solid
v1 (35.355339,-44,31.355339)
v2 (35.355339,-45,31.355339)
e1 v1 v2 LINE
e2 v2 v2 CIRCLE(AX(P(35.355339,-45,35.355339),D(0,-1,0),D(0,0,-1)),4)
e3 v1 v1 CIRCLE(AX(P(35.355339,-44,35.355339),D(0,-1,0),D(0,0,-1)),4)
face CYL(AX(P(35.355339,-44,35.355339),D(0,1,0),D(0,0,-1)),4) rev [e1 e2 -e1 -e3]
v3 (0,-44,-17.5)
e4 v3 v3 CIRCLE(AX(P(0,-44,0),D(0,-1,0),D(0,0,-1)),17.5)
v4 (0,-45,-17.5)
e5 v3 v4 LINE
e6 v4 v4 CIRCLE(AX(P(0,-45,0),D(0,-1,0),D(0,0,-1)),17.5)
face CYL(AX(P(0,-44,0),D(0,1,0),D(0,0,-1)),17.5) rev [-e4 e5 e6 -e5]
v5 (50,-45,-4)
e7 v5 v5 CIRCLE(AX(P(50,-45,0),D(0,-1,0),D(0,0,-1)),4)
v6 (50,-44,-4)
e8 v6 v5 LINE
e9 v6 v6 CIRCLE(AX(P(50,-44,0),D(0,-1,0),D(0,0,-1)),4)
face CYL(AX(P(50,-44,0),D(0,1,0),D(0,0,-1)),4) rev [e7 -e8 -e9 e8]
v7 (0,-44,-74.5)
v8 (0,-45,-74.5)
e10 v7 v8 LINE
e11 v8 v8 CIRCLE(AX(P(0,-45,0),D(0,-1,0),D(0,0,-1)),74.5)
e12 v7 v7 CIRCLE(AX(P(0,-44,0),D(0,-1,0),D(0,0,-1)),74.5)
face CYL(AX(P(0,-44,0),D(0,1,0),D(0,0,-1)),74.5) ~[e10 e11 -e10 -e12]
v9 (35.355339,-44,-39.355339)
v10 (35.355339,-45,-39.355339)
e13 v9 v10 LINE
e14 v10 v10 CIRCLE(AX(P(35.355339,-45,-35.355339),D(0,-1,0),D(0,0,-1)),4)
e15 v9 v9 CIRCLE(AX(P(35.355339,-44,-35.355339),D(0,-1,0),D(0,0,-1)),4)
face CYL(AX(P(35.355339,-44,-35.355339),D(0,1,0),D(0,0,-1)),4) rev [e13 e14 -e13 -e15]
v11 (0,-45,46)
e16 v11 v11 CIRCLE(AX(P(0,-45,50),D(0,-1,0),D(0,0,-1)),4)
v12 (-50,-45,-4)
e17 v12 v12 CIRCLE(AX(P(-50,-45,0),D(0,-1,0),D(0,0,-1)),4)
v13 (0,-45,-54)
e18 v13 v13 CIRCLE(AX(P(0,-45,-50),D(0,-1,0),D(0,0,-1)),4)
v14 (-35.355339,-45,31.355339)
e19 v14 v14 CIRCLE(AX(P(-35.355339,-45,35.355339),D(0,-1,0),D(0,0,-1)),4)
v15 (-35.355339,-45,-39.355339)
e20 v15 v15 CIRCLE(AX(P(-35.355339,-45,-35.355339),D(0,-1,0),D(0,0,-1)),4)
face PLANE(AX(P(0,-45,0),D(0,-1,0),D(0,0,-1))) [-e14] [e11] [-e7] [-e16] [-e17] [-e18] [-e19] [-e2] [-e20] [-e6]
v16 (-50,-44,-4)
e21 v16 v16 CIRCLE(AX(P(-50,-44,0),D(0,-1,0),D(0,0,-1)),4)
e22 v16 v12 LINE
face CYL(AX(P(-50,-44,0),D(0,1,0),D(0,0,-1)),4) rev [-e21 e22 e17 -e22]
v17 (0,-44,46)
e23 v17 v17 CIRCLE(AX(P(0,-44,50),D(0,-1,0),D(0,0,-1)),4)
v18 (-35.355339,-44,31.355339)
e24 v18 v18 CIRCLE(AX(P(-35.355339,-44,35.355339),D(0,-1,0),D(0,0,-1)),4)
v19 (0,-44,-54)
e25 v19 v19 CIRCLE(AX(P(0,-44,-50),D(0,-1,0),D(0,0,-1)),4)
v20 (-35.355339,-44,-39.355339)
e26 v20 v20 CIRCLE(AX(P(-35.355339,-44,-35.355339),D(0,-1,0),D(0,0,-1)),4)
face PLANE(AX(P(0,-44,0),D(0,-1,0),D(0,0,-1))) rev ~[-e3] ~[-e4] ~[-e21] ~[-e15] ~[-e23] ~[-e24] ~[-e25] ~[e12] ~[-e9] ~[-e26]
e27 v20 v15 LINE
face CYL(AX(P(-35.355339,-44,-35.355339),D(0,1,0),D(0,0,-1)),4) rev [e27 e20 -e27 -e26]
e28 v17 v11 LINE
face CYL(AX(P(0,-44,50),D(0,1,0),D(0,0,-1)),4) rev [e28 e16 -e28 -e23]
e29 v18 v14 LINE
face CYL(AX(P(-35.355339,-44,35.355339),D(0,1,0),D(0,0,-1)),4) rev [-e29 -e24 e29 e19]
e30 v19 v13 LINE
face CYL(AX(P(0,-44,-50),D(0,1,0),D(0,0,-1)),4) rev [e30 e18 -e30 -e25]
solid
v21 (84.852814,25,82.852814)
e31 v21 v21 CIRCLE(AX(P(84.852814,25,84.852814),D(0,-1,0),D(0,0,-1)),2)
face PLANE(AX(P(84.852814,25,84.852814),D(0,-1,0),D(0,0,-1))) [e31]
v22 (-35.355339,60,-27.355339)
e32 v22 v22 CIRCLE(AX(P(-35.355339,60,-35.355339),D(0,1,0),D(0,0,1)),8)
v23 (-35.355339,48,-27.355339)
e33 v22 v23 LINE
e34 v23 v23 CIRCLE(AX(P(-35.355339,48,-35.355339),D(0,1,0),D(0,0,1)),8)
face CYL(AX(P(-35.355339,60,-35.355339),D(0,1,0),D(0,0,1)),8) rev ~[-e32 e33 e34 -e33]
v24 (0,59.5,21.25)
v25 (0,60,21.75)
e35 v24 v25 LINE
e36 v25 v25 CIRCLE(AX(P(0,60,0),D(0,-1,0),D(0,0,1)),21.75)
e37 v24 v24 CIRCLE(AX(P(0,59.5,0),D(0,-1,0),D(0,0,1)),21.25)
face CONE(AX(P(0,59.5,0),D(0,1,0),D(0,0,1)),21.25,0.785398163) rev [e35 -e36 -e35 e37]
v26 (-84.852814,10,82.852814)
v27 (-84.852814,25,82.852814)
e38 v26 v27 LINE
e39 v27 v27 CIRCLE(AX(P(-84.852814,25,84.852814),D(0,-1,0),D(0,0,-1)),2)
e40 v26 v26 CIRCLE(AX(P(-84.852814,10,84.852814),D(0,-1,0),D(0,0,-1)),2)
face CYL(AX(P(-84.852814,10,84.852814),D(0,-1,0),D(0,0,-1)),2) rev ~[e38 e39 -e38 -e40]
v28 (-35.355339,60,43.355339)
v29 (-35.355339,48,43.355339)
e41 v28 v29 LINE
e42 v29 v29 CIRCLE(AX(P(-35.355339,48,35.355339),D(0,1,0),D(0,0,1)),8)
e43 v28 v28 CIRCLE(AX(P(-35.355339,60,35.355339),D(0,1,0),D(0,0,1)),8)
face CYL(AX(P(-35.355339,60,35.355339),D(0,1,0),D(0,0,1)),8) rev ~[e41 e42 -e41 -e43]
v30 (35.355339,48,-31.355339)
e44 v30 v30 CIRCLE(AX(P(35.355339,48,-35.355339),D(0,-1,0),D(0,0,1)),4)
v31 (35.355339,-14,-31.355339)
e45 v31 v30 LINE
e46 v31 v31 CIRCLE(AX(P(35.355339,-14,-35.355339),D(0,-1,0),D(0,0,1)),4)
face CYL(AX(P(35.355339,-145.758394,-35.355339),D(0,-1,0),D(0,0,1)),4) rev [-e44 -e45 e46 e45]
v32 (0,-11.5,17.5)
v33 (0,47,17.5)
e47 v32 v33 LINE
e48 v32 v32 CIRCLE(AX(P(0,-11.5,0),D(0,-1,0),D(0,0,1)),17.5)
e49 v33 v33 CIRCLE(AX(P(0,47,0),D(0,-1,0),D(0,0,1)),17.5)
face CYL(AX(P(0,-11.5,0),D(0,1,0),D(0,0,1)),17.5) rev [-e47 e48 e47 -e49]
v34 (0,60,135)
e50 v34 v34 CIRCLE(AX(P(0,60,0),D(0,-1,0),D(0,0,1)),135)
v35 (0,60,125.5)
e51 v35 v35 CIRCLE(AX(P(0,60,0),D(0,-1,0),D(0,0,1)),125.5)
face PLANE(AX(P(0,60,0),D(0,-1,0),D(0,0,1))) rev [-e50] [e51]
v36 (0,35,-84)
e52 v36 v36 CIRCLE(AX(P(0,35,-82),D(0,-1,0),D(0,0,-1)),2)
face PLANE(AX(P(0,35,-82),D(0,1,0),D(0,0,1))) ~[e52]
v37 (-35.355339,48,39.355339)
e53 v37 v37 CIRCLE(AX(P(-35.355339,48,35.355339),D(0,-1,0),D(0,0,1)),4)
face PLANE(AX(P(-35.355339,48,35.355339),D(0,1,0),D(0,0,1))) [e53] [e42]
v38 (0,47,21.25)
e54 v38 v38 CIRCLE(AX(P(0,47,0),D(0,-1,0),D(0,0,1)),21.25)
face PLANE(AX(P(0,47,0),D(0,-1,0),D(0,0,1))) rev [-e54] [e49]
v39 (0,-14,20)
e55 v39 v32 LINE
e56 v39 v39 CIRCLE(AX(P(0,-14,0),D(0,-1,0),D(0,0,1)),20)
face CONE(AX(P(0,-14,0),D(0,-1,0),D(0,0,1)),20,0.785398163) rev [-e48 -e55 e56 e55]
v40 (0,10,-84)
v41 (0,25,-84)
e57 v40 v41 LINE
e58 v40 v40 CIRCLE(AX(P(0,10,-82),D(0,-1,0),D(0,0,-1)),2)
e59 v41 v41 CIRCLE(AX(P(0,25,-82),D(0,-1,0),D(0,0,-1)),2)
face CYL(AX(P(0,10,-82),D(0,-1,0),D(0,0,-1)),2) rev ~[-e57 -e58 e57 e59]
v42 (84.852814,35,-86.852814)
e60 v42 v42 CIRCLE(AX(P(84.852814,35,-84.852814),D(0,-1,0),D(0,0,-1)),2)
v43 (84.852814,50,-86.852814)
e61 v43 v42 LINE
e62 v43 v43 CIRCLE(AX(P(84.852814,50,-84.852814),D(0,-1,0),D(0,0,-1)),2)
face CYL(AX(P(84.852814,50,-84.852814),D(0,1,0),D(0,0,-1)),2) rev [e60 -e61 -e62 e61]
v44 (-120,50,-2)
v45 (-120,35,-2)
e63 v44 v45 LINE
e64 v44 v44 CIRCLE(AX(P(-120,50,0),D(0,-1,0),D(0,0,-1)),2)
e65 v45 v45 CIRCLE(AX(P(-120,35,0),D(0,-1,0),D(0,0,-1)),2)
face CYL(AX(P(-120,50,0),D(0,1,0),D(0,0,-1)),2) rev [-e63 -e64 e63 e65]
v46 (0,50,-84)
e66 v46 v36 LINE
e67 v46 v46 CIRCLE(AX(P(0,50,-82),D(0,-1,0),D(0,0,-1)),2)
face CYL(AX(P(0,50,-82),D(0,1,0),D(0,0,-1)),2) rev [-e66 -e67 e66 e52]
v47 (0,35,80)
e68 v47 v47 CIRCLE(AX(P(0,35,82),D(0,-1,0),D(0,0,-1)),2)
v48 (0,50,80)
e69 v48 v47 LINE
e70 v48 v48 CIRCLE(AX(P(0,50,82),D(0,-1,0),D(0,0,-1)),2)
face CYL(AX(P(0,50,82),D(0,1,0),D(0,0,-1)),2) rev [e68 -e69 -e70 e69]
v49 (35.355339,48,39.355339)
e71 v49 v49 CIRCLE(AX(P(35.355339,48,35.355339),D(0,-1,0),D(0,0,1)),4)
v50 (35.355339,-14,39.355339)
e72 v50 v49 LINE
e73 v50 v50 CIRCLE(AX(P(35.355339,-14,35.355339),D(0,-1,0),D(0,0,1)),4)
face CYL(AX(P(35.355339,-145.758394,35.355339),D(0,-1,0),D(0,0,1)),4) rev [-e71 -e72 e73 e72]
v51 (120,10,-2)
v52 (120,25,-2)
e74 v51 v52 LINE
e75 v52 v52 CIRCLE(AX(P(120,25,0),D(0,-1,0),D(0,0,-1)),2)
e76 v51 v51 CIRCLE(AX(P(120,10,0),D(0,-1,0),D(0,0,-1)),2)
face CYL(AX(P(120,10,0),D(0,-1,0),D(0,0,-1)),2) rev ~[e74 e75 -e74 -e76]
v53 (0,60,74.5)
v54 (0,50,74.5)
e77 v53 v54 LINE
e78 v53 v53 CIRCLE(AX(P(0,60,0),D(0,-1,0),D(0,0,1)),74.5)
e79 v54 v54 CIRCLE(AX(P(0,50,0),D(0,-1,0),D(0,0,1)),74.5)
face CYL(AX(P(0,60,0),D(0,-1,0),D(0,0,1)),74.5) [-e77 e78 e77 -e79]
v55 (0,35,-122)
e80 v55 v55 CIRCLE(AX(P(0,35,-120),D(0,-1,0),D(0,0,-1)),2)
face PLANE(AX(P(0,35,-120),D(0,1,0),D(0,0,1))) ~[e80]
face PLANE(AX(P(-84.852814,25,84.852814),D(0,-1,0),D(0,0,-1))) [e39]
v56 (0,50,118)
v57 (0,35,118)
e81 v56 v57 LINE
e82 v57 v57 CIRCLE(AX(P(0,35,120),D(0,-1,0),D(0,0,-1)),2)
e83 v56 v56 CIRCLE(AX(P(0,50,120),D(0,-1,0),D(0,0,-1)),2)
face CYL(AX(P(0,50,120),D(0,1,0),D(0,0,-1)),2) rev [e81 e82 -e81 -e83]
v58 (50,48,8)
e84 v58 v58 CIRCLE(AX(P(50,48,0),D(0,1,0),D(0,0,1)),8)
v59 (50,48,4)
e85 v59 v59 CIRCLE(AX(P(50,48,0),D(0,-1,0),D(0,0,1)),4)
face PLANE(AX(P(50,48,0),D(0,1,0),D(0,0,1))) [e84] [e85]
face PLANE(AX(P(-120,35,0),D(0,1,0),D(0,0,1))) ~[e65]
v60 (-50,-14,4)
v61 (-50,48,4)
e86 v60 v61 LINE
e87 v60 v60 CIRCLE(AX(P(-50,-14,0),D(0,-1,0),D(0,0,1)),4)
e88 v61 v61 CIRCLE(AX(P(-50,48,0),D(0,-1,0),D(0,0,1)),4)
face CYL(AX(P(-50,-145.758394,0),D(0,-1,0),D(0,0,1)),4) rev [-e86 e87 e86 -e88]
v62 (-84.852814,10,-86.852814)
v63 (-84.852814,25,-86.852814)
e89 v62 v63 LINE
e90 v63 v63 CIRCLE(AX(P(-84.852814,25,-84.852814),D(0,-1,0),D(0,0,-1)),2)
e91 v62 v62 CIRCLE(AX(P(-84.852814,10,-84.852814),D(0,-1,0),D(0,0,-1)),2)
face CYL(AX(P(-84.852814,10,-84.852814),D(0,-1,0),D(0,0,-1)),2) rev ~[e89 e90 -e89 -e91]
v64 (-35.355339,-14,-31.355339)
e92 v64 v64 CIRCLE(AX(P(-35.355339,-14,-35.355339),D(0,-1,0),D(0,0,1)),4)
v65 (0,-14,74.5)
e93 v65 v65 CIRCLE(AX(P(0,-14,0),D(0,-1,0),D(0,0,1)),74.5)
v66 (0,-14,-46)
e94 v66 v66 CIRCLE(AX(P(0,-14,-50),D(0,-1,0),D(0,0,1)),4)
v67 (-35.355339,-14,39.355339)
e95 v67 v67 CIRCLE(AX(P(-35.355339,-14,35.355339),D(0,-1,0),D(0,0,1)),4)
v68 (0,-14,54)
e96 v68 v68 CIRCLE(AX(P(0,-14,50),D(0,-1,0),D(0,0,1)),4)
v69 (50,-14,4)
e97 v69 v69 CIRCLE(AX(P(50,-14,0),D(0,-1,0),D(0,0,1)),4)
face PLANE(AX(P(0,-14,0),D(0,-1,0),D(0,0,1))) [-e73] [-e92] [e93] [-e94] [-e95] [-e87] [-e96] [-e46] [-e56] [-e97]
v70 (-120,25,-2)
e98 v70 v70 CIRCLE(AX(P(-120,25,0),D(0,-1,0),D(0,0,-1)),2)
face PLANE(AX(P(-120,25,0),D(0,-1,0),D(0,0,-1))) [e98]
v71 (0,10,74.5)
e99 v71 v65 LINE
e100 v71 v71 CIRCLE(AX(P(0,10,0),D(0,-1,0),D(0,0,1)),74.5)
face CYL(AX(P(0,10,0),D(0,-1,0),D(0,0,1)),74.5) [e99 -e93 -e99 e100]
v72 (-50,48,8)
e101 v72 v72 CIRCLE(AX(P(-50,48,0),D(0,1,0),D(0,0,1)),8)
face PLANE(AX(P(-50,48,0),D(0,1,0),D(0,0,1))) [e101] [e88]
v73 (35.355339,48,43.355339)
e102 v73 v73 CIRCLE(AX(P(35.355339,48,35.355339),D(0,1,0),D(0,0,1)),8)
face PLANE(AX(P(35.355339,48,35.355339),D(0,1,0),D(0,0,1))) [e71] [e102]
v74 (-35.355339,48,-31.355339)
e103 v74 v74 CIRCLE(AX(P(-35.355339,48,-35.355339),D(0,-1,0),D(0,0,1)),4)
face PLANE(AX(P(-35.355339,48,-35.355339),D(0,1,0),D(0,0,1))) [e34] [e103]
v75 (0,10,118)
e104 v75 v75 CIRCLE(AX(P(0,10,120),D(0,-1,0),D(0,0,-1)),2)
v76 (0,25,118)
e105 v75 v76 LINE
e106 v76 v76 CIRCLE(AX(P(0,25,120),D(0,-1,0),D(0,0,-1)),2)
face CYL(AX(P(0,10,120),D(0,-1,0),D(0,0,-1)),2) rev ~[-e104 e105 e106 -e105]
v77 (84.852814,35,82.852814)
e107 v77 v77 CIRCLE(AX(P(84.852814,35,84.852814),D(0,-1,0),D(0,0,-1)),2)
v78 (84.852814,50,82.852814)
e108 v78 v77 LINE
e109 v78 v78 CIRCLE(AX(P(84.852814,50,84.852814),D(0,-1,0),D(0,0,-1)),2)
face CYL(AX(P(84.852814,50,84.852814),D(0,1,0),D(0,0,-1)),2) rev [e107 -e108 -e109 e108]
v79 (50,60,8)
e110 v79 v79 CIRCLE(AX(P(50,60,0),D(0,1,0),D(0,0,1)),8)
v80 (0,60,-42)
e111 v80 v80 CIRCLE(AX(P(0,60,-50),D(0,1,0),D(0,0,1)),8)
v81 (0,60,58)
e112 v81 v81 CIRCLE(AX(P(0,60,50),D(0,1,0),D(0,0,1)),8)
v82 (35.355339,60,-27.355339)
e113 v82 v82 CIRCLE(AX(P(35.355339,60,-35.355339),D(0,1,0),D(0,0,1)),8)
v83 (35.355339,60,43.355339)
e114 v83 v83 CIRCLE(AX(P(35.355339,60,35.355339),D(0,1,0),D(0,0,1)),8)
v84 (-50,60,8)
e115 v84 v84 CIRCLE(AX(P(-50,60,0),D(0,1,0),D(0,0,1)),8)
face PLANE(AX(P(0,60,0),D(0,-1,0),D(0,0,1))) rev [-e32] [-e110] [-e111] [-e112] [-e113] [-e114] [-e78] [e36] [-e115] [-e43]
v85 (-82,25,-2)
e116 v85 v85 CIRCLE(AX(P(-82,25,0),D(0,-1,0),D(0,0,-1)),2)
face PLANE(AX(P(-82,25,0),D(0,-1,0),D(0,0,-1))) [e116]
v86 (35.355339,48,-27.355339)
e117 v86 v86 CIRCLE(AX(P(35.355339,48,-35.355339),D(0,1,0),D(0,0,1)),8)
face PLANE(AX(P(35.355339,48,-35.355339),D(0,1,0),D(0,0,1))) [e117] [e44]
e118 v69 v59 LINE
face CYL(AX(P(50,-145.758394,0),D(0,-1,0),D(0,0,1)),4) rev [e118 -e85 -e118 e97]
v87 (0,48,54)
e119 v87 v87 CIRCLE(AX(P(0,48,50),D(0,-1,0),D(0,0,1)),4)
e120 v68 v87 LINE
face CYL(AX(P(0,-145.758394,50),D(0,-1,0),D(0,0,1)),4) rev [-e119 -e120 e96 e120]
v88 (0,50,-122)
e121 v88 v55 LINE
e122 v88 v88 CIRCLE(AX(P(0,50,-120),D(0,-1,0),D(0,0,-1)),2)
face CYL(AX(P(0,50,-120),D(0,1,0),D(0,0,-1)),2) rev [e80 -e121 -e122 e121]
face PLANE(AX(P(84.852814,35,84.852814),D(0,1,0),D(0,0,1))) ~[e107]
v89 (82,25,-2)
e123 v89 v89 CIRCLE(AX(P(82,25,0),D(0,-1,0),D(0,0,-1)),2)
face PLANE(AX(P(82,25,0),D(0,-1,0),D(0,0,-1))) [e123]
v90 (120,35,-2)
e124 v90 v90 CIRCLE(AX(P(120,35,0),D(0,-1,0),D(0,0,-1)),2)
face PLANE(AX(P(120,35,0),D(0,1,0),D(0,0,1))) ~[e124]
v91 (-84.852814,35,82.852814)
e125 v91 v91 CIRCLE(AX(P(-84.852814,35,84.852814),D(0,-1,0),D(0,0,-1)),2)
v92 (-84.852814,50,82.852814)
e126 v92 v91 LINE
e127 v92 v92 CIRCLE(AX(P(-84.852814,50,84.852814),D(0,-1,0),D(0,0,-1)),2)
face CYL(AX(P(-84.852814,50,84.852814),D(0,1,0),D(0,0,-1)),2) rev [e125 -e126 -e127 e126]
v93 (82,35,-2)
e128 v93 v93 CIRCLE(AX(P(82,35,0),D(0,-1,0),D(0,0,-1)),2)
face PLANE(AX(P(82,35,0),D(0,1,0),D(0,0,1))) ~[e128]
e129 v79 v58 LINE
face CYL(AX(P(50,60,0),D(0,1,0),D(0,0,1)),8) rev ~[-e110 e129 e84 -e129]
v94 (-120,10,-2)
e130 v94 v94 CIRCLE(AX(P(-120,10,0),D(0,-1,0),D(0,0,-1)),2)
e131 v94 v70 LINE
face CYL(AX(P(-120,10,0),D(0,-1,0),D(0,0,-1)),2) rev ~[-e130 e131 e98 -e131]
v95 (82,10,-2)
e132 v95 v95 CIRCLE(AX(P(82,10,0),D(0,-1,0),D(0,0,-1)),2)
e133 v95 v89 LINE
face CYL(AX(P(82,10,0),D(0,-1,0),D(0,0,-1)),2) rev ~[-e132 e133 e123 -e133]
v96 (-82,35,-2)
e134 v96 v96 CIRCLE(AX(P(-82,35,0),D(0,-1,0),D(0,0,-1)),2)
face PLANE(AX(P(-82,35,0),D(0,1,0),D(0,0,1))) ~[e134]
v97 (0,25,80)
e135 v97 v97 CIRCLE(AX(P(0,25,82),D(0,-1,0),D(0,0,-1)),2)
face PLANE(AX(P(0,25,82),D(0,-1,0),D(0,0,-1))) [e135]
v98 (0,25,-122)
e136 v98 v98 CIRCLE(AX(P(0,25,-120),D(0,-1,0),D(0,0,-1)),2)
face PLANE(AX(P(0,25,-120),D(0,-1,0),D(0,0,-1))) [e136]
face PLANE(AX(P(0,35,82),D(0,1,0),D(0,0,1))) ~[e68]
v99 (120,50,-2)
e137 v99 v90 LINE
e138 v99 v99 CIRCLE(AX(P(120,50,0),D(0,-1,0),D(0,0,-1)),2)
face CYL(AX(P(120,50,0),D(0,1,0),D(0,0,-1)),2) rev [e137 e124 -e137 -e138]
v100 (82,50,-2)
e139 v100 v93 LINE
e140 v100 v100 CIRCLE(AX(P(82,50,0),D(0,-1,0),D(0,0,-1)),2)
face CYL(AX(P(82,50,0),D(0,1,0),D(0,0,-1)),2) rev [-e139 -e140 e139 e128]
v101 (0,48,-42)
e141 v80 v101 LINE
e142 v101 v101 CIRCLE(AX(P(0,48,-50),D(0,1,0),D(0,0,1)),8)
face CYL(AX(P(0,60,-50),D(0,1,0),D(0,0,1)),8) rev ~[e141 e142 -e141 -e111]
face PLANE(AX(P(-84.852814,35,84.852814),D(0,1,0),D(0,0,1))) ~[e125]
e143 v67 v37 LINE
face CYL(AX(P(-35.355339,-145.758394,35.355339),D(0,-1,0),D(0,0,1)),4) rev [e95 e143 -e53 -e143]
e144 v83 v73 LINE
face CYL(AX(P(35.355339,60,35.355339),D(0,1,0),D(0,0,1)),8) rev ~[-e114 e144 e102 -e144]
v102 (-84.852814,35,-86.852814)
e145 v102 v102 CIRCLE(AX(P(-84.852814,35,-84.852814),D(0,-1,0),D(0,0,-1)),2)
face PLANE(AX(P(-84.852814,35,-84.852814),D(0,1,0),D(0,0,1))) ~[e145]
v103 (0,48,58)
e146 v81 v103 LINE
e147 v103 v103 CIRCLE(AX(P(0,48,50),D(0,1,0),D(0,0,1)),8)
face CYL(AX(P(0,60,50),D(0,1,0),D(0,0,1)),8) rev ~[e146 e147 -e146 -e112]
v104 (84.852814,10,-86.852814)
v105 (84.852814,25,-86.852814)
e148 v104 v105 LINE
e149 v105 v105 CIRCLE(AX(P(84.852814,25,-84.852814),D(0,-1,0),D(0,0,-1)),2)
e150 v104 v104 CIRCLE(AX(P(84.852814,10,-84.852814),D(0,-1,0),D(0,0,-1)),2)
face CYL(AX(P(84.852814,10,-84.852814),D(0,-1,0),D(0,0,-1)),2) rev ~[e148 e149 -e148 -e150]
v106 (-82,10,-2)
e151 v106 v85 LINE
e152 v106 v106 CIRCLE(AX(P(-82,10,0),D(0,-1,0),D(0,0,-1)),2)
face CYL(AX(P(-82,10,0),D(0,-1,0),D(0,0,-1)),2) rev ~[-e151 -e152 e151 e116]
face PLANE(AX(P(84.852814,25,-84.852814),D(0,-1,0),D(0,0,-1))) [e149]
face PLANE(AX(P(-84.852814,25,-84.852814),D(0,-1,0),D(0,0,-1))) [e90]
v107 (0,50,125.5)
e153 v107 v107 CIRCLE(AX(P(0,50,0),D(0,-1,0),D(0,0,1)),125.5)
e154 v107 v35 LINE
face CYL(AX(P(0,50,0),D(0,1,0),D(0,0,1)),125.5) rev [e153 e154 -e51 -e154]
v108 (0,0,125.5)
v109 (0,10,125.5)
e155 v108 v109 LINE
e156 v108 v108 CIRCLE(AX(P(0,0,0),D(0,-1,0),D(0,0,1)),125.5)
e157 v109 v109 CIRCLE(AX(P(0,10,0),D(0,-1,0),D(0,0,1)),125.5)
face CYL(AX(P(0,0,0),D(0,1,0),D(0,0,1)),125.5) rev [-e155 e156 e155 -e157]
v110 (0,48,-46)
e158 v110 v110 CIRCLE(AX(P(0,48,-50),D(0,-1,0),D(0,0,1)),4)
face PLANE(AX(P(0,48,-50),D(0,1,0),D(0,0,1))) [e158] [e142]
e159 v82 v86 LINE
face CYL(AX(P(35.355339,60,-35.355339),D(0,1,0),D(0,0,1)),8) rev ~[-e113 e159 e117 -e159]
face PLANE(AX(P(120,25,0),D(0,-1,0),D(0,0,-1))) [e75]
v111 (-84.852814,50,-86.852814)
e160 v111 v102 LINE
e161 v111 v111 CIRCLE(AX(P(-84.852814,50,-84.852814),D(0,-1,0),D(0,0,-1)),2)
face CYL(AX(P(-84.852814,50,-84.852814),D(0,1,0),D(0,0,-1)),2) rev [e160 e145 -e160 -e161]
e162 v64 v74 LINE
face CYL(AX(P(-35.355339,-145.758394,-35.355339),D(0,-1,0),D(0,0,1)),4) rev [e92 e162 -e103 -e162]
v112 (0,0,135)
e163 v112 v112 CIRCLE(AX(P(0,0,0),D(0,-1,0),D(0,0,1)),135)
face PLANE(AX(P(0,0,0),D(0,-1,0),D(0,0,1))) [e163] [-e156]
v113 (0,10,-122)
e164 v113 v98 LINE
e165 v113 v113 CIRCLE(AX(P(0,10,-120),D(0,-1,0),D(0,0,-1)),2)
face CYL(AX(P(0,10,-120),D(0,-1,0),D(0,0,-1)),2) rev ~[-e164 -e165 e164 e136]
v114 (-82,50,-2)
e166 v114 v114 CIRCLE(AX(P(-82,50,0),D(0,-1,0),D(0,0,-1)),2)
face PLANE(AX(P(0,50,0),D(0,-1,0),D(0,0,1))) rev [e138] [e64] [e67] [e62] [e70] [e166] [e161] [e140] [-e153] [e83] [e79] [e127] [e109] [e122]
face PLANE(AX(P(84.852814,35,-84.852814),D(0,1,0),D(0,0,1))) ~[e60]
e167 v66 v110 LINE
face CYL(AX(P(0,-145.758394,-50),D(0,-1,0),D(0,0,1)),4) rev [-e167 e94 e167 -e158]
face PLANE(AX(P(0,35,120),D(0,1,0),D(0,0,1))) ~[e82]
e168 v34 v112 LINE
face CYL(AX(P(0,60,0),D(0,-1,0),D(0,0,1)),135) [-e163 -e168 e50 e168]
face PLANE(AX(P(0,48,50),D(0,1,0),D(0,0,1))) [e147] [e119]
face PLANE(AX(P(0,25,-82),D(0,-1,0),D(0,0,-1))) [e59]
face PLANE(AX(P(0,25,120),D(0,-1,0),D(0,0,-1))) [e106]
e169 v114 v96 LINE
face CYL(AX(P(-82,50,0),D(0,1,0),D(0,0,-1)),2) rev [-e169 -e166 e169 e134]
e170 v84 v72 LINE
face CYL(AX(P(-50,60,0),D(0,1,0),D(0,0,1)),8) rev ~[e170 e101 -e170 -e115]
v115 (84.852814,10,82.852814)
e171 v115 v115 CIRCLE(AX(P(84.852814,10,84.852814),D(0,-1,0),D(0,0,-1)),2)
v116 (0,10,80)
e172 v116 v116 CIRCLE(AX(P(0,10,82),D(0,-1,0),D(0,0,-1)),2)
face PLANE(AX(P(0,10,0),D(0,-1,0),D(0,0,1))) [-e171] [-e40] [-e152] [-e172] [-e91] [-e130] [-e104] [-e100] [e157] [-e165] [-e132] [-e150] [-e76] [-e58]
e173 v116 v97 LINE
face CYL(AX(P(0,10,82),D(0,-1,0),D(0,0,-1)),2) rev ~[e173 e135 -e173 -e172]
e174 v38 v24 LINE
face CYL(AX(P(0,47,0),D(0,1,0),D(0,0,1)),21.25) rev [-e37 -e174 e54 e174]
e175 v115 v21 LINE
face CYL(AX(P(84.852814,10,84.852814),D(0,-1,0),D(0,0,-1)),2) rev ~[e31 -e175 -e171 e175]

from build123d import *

# Parameters (mm, degrees)
CUT_EXTRUDE1_DEPTH      = 205.758394211
CUT_EXTRUDE1_DEPTH_BACK = 205.758394211
SKETCH2_R               = 4
SKETCH3_R               = 2
CUT_EXTRUDE2_DEPTH      = 15
SKETCH4_R               = 8
CUT_EXTRUDE3_DEPTH      = 12
BOSS_EXTRUDE1_START     = 30
SKETCH5_R               = 74.5
SKETCH5_R_2             = 4
SKETCH5_R_3             = 17.5
BOSS_EXTRUDE1_DEPTH     = 1


with BuildPart() as part:
    # Sketch1 → Revolve1 (revolve)
    with BuildSketch(Plane(origin=(0, 0, 0), x_dir=(0, 0, -1), z_dir=(1, 0, 0))):
        Polygon((-135, 60), (-135, 0), (-125.5, 0), (-125.5, 10), (-74.5, 10), (-74.5, 0), (-74.5, -14), (-20, -14), (-17.5, -11.5), (-17.5, 47), (-21.25, 47), (-21.25, 59.5), (-21.75, 60), (-74.5, 60), (-74.5, 50), (-125.5, 50), (-125.5, 60), align=None)
    revolve(axis=Axis((0, -14, 0), (0, -1, 0)))

    # Sketch2 → Cut-Extrude1 (cut, two sides: drawn at the far end of the back side and taken through both)
    with BuildSketch(Plane(origin=(0, 60, 0), x_dir=(1, 0, 0), z_dir=(0, 1, 0)).offset(-CUT_EXTRUDE1_DEPTH_BACK)):
        with Locations(Location((-50, 0, 0), (0, 0, 270))):
            Circle(SKETCH2_R)
        with Locations(Location((-35.355339059, 35.355339059, 0), (0, 0, 270))):
            Circle(SKETCH2_R)
        with Locations(Location((0, 50, 0), (0, 0, 270))):
            Circle(SKETCH2_R)
        with Locations(Location((35.355339059, 35.355339059, 0), (0, 0, 270))):
            Circle(SKETCH2_R)
        with Locations(Location((50, 0, 0), (0, 0, 270))):
            Circle(SKETCH2_R)
        with Locations(Location((35.355339059, -35.355339059, 0), (0, 0, 270))):
            Circle(SKETCH2_R)
        with Locations(Location((0, -50, 0), (0, 0, 270))):
            Circle(SKETCH2_R)
        with Locations(Location((-35.355339059, -35.355339059, 0), (0, 0, 270))):
            Circle(SKETCH2_R)
    extrude(amount=CUT_EXTRUDE1_DEPTH + CUT_EXTRUDE1_DEPTH_BACK, mode=Mode.SUBTRACT)

    # Sketch3 → Cut-Extrude2 (cut)
    with BuildSketch(Plane.XZ.offset(-10)):
        with Locations(Location((0, 82, 0), (0, 0, 270))):
            Circle(SKETCH3_R)
        with Locations(Location((0, 120, 0), (0, 0, 270))):
            Circle(SKETCH3_R)
        with Locations(Location((84.852813742, 84.852813742, 0), (0, 0, 270))):
            Circle(SKETCH3_R)
        with Locations(Location((120, 0, 0), (0, 0, 270))):
            Circle(SKETCH3_R)
        with Locations(Location((82, 0, 0), (0, 0, 270))):
            Circle(SKETCH3_R)
        with Locations(Location((84.852813742, -84.852813742, 0), (0, 0, 270))):
            Circle(SKETCH3_R)
        with Locations(Location((0, -120, 0), (0, 0, 270))):
            Circle(SKETCH3_R)
        with Locations(Location((0, -82, 0), (0, 0, 270))):
            Circle(SKETCH3_R)
        with Locations(Location((-84.852813742, -84.852813742, 0), (0, 0, 270))):
            Circle(SKETCH3_R)
        with Locations(Location((-120, 0, 0), (0, 0, 270))):
            Circle(SKETCH3_R)
        with Locations(Location((-82, 0, 0), (0, 0, 270))):
            Circle(SKETCH3_R)
        with Locations(Location((-84.852813742, 84.852813742, 0), (0, 0, 270))):
            Circle(SKETCH3_R)
    cut_extrude2 = extrude(amount=-CUT_EXTRUDE2_DEPTH, mode=Mode.SUBTRACT)

    # Mirror1: Cut-Extrude2 across plane
    add(cut_extrude2.mirror(Plane(origin=(0, 30, 0), x_dir=(0, 0, 1), z_dir=(0, -1, 0))), mode=Mode.SUBTRACT)

    # Sketch4 → Cut-Extrude3 (cut)
    with BuildSketch(Plane(origin=(0, 60, 0), x_dir=(1, 0, 0), z_dir=(0, 1, 0))):
        with Locations(Location((0, 50, 0), (0, 0, 270))):
            Circle(SKETCH4_R)
        with Locations(Location((35.355339059, 35.355339059, 0), (0, 0, 270))):
            Circle(SKETCH4_R)
        with Locations(Location((50, 0, 0), (0, 0, 270))):
            Circle(SKETCH4_R)
        with Locations(Location((35.355339059, -35.355339059, 0), (0, 0, 270))):
            Circle(SKETCH4_R)
        with Locations(Location((0, -50, 0), (0, 0, 270))):
            Circle(SKETCH4_R)
        with Locations(Location((-35.355339059, -35.355339059, 0), (0, 0, 270))):
            Circle(SKETCH4_R)
        with Locations(Location((-50, 0, 0), (0, 0, 270))):
            Circle(SKETCH4_R)
        with Locations(Location((-35.355339059, 35.355339059, 0), (0, 0, 270))):
            Circle(SKETCH4_R)
    extrude(amount=-CUT_EXTRUDE3_DEPTH, mode=Mode.SUBTRACT)


with BuildPart() as body_2:
    # Sketch5 → Boss-Extrude1 (new body)
    with BuildSketch(Plane.XZ.offset(14).offset(BOSS_EXTRUDE1_START)):
        with Locations(Location((0, 0, 0), (0, 0, 270))):
            Circle(SKETCH5_R)
        with Locations(Location((35.355339059, -35.355339059, 0), (0, 0, 270))):
            Circle(SKETCH5_R_2, mode=Mode.SUBTRACT)
        with Locations(Location((0, -50, 0), (0, 0, 270))):
            Circle(SKETCH5_R_2, mode=Mode.SUBTRACT)
        with Locations(Location((-35.355339059, -35.355339059, 0), (0, 0, 270))):
            Circle(SKETCH5_R_2, mode=Mode.SUBTRACT)
        with Locations(Location((-50, 0, 0), (0, 0, 270))):
            Circle(SKETCH5_R_2, mode=Mode.SUBTRACT)
        with Locations(Location((50, 0, 0), (0, 0, 270))):
            Circle(SKETCH5_R_2, mode=Mode.SUBTRACT)
        with Locations(Location((35.355339059, 35.355339059, 0), (0, 0, 270))):
            Circle(SKETCH5_R_2, mode=Mode.SUBTRACT)
        with Locations(Location((-35.355339059, 35.355339059, 0), (0, 0, 270))):
            Circle(SKETCH5_R_2, mode=Mode.SUBTRACT)
        with Locations(Location((0, 50, 0), (0, 0, 270))):
            Circle(SKETCH5_R_2, mode=Mode.SUBTRACT)
        with Locations(Location((0, 0, 0), (0, 0, 270))):
            Circle(SKETCH5_R_3, mode=Mode.SUBTRACT)
    extrude(amount=BOSS_EXTRUDE1_DEPTH)


solid = Compound([part.part, body_2.part])
